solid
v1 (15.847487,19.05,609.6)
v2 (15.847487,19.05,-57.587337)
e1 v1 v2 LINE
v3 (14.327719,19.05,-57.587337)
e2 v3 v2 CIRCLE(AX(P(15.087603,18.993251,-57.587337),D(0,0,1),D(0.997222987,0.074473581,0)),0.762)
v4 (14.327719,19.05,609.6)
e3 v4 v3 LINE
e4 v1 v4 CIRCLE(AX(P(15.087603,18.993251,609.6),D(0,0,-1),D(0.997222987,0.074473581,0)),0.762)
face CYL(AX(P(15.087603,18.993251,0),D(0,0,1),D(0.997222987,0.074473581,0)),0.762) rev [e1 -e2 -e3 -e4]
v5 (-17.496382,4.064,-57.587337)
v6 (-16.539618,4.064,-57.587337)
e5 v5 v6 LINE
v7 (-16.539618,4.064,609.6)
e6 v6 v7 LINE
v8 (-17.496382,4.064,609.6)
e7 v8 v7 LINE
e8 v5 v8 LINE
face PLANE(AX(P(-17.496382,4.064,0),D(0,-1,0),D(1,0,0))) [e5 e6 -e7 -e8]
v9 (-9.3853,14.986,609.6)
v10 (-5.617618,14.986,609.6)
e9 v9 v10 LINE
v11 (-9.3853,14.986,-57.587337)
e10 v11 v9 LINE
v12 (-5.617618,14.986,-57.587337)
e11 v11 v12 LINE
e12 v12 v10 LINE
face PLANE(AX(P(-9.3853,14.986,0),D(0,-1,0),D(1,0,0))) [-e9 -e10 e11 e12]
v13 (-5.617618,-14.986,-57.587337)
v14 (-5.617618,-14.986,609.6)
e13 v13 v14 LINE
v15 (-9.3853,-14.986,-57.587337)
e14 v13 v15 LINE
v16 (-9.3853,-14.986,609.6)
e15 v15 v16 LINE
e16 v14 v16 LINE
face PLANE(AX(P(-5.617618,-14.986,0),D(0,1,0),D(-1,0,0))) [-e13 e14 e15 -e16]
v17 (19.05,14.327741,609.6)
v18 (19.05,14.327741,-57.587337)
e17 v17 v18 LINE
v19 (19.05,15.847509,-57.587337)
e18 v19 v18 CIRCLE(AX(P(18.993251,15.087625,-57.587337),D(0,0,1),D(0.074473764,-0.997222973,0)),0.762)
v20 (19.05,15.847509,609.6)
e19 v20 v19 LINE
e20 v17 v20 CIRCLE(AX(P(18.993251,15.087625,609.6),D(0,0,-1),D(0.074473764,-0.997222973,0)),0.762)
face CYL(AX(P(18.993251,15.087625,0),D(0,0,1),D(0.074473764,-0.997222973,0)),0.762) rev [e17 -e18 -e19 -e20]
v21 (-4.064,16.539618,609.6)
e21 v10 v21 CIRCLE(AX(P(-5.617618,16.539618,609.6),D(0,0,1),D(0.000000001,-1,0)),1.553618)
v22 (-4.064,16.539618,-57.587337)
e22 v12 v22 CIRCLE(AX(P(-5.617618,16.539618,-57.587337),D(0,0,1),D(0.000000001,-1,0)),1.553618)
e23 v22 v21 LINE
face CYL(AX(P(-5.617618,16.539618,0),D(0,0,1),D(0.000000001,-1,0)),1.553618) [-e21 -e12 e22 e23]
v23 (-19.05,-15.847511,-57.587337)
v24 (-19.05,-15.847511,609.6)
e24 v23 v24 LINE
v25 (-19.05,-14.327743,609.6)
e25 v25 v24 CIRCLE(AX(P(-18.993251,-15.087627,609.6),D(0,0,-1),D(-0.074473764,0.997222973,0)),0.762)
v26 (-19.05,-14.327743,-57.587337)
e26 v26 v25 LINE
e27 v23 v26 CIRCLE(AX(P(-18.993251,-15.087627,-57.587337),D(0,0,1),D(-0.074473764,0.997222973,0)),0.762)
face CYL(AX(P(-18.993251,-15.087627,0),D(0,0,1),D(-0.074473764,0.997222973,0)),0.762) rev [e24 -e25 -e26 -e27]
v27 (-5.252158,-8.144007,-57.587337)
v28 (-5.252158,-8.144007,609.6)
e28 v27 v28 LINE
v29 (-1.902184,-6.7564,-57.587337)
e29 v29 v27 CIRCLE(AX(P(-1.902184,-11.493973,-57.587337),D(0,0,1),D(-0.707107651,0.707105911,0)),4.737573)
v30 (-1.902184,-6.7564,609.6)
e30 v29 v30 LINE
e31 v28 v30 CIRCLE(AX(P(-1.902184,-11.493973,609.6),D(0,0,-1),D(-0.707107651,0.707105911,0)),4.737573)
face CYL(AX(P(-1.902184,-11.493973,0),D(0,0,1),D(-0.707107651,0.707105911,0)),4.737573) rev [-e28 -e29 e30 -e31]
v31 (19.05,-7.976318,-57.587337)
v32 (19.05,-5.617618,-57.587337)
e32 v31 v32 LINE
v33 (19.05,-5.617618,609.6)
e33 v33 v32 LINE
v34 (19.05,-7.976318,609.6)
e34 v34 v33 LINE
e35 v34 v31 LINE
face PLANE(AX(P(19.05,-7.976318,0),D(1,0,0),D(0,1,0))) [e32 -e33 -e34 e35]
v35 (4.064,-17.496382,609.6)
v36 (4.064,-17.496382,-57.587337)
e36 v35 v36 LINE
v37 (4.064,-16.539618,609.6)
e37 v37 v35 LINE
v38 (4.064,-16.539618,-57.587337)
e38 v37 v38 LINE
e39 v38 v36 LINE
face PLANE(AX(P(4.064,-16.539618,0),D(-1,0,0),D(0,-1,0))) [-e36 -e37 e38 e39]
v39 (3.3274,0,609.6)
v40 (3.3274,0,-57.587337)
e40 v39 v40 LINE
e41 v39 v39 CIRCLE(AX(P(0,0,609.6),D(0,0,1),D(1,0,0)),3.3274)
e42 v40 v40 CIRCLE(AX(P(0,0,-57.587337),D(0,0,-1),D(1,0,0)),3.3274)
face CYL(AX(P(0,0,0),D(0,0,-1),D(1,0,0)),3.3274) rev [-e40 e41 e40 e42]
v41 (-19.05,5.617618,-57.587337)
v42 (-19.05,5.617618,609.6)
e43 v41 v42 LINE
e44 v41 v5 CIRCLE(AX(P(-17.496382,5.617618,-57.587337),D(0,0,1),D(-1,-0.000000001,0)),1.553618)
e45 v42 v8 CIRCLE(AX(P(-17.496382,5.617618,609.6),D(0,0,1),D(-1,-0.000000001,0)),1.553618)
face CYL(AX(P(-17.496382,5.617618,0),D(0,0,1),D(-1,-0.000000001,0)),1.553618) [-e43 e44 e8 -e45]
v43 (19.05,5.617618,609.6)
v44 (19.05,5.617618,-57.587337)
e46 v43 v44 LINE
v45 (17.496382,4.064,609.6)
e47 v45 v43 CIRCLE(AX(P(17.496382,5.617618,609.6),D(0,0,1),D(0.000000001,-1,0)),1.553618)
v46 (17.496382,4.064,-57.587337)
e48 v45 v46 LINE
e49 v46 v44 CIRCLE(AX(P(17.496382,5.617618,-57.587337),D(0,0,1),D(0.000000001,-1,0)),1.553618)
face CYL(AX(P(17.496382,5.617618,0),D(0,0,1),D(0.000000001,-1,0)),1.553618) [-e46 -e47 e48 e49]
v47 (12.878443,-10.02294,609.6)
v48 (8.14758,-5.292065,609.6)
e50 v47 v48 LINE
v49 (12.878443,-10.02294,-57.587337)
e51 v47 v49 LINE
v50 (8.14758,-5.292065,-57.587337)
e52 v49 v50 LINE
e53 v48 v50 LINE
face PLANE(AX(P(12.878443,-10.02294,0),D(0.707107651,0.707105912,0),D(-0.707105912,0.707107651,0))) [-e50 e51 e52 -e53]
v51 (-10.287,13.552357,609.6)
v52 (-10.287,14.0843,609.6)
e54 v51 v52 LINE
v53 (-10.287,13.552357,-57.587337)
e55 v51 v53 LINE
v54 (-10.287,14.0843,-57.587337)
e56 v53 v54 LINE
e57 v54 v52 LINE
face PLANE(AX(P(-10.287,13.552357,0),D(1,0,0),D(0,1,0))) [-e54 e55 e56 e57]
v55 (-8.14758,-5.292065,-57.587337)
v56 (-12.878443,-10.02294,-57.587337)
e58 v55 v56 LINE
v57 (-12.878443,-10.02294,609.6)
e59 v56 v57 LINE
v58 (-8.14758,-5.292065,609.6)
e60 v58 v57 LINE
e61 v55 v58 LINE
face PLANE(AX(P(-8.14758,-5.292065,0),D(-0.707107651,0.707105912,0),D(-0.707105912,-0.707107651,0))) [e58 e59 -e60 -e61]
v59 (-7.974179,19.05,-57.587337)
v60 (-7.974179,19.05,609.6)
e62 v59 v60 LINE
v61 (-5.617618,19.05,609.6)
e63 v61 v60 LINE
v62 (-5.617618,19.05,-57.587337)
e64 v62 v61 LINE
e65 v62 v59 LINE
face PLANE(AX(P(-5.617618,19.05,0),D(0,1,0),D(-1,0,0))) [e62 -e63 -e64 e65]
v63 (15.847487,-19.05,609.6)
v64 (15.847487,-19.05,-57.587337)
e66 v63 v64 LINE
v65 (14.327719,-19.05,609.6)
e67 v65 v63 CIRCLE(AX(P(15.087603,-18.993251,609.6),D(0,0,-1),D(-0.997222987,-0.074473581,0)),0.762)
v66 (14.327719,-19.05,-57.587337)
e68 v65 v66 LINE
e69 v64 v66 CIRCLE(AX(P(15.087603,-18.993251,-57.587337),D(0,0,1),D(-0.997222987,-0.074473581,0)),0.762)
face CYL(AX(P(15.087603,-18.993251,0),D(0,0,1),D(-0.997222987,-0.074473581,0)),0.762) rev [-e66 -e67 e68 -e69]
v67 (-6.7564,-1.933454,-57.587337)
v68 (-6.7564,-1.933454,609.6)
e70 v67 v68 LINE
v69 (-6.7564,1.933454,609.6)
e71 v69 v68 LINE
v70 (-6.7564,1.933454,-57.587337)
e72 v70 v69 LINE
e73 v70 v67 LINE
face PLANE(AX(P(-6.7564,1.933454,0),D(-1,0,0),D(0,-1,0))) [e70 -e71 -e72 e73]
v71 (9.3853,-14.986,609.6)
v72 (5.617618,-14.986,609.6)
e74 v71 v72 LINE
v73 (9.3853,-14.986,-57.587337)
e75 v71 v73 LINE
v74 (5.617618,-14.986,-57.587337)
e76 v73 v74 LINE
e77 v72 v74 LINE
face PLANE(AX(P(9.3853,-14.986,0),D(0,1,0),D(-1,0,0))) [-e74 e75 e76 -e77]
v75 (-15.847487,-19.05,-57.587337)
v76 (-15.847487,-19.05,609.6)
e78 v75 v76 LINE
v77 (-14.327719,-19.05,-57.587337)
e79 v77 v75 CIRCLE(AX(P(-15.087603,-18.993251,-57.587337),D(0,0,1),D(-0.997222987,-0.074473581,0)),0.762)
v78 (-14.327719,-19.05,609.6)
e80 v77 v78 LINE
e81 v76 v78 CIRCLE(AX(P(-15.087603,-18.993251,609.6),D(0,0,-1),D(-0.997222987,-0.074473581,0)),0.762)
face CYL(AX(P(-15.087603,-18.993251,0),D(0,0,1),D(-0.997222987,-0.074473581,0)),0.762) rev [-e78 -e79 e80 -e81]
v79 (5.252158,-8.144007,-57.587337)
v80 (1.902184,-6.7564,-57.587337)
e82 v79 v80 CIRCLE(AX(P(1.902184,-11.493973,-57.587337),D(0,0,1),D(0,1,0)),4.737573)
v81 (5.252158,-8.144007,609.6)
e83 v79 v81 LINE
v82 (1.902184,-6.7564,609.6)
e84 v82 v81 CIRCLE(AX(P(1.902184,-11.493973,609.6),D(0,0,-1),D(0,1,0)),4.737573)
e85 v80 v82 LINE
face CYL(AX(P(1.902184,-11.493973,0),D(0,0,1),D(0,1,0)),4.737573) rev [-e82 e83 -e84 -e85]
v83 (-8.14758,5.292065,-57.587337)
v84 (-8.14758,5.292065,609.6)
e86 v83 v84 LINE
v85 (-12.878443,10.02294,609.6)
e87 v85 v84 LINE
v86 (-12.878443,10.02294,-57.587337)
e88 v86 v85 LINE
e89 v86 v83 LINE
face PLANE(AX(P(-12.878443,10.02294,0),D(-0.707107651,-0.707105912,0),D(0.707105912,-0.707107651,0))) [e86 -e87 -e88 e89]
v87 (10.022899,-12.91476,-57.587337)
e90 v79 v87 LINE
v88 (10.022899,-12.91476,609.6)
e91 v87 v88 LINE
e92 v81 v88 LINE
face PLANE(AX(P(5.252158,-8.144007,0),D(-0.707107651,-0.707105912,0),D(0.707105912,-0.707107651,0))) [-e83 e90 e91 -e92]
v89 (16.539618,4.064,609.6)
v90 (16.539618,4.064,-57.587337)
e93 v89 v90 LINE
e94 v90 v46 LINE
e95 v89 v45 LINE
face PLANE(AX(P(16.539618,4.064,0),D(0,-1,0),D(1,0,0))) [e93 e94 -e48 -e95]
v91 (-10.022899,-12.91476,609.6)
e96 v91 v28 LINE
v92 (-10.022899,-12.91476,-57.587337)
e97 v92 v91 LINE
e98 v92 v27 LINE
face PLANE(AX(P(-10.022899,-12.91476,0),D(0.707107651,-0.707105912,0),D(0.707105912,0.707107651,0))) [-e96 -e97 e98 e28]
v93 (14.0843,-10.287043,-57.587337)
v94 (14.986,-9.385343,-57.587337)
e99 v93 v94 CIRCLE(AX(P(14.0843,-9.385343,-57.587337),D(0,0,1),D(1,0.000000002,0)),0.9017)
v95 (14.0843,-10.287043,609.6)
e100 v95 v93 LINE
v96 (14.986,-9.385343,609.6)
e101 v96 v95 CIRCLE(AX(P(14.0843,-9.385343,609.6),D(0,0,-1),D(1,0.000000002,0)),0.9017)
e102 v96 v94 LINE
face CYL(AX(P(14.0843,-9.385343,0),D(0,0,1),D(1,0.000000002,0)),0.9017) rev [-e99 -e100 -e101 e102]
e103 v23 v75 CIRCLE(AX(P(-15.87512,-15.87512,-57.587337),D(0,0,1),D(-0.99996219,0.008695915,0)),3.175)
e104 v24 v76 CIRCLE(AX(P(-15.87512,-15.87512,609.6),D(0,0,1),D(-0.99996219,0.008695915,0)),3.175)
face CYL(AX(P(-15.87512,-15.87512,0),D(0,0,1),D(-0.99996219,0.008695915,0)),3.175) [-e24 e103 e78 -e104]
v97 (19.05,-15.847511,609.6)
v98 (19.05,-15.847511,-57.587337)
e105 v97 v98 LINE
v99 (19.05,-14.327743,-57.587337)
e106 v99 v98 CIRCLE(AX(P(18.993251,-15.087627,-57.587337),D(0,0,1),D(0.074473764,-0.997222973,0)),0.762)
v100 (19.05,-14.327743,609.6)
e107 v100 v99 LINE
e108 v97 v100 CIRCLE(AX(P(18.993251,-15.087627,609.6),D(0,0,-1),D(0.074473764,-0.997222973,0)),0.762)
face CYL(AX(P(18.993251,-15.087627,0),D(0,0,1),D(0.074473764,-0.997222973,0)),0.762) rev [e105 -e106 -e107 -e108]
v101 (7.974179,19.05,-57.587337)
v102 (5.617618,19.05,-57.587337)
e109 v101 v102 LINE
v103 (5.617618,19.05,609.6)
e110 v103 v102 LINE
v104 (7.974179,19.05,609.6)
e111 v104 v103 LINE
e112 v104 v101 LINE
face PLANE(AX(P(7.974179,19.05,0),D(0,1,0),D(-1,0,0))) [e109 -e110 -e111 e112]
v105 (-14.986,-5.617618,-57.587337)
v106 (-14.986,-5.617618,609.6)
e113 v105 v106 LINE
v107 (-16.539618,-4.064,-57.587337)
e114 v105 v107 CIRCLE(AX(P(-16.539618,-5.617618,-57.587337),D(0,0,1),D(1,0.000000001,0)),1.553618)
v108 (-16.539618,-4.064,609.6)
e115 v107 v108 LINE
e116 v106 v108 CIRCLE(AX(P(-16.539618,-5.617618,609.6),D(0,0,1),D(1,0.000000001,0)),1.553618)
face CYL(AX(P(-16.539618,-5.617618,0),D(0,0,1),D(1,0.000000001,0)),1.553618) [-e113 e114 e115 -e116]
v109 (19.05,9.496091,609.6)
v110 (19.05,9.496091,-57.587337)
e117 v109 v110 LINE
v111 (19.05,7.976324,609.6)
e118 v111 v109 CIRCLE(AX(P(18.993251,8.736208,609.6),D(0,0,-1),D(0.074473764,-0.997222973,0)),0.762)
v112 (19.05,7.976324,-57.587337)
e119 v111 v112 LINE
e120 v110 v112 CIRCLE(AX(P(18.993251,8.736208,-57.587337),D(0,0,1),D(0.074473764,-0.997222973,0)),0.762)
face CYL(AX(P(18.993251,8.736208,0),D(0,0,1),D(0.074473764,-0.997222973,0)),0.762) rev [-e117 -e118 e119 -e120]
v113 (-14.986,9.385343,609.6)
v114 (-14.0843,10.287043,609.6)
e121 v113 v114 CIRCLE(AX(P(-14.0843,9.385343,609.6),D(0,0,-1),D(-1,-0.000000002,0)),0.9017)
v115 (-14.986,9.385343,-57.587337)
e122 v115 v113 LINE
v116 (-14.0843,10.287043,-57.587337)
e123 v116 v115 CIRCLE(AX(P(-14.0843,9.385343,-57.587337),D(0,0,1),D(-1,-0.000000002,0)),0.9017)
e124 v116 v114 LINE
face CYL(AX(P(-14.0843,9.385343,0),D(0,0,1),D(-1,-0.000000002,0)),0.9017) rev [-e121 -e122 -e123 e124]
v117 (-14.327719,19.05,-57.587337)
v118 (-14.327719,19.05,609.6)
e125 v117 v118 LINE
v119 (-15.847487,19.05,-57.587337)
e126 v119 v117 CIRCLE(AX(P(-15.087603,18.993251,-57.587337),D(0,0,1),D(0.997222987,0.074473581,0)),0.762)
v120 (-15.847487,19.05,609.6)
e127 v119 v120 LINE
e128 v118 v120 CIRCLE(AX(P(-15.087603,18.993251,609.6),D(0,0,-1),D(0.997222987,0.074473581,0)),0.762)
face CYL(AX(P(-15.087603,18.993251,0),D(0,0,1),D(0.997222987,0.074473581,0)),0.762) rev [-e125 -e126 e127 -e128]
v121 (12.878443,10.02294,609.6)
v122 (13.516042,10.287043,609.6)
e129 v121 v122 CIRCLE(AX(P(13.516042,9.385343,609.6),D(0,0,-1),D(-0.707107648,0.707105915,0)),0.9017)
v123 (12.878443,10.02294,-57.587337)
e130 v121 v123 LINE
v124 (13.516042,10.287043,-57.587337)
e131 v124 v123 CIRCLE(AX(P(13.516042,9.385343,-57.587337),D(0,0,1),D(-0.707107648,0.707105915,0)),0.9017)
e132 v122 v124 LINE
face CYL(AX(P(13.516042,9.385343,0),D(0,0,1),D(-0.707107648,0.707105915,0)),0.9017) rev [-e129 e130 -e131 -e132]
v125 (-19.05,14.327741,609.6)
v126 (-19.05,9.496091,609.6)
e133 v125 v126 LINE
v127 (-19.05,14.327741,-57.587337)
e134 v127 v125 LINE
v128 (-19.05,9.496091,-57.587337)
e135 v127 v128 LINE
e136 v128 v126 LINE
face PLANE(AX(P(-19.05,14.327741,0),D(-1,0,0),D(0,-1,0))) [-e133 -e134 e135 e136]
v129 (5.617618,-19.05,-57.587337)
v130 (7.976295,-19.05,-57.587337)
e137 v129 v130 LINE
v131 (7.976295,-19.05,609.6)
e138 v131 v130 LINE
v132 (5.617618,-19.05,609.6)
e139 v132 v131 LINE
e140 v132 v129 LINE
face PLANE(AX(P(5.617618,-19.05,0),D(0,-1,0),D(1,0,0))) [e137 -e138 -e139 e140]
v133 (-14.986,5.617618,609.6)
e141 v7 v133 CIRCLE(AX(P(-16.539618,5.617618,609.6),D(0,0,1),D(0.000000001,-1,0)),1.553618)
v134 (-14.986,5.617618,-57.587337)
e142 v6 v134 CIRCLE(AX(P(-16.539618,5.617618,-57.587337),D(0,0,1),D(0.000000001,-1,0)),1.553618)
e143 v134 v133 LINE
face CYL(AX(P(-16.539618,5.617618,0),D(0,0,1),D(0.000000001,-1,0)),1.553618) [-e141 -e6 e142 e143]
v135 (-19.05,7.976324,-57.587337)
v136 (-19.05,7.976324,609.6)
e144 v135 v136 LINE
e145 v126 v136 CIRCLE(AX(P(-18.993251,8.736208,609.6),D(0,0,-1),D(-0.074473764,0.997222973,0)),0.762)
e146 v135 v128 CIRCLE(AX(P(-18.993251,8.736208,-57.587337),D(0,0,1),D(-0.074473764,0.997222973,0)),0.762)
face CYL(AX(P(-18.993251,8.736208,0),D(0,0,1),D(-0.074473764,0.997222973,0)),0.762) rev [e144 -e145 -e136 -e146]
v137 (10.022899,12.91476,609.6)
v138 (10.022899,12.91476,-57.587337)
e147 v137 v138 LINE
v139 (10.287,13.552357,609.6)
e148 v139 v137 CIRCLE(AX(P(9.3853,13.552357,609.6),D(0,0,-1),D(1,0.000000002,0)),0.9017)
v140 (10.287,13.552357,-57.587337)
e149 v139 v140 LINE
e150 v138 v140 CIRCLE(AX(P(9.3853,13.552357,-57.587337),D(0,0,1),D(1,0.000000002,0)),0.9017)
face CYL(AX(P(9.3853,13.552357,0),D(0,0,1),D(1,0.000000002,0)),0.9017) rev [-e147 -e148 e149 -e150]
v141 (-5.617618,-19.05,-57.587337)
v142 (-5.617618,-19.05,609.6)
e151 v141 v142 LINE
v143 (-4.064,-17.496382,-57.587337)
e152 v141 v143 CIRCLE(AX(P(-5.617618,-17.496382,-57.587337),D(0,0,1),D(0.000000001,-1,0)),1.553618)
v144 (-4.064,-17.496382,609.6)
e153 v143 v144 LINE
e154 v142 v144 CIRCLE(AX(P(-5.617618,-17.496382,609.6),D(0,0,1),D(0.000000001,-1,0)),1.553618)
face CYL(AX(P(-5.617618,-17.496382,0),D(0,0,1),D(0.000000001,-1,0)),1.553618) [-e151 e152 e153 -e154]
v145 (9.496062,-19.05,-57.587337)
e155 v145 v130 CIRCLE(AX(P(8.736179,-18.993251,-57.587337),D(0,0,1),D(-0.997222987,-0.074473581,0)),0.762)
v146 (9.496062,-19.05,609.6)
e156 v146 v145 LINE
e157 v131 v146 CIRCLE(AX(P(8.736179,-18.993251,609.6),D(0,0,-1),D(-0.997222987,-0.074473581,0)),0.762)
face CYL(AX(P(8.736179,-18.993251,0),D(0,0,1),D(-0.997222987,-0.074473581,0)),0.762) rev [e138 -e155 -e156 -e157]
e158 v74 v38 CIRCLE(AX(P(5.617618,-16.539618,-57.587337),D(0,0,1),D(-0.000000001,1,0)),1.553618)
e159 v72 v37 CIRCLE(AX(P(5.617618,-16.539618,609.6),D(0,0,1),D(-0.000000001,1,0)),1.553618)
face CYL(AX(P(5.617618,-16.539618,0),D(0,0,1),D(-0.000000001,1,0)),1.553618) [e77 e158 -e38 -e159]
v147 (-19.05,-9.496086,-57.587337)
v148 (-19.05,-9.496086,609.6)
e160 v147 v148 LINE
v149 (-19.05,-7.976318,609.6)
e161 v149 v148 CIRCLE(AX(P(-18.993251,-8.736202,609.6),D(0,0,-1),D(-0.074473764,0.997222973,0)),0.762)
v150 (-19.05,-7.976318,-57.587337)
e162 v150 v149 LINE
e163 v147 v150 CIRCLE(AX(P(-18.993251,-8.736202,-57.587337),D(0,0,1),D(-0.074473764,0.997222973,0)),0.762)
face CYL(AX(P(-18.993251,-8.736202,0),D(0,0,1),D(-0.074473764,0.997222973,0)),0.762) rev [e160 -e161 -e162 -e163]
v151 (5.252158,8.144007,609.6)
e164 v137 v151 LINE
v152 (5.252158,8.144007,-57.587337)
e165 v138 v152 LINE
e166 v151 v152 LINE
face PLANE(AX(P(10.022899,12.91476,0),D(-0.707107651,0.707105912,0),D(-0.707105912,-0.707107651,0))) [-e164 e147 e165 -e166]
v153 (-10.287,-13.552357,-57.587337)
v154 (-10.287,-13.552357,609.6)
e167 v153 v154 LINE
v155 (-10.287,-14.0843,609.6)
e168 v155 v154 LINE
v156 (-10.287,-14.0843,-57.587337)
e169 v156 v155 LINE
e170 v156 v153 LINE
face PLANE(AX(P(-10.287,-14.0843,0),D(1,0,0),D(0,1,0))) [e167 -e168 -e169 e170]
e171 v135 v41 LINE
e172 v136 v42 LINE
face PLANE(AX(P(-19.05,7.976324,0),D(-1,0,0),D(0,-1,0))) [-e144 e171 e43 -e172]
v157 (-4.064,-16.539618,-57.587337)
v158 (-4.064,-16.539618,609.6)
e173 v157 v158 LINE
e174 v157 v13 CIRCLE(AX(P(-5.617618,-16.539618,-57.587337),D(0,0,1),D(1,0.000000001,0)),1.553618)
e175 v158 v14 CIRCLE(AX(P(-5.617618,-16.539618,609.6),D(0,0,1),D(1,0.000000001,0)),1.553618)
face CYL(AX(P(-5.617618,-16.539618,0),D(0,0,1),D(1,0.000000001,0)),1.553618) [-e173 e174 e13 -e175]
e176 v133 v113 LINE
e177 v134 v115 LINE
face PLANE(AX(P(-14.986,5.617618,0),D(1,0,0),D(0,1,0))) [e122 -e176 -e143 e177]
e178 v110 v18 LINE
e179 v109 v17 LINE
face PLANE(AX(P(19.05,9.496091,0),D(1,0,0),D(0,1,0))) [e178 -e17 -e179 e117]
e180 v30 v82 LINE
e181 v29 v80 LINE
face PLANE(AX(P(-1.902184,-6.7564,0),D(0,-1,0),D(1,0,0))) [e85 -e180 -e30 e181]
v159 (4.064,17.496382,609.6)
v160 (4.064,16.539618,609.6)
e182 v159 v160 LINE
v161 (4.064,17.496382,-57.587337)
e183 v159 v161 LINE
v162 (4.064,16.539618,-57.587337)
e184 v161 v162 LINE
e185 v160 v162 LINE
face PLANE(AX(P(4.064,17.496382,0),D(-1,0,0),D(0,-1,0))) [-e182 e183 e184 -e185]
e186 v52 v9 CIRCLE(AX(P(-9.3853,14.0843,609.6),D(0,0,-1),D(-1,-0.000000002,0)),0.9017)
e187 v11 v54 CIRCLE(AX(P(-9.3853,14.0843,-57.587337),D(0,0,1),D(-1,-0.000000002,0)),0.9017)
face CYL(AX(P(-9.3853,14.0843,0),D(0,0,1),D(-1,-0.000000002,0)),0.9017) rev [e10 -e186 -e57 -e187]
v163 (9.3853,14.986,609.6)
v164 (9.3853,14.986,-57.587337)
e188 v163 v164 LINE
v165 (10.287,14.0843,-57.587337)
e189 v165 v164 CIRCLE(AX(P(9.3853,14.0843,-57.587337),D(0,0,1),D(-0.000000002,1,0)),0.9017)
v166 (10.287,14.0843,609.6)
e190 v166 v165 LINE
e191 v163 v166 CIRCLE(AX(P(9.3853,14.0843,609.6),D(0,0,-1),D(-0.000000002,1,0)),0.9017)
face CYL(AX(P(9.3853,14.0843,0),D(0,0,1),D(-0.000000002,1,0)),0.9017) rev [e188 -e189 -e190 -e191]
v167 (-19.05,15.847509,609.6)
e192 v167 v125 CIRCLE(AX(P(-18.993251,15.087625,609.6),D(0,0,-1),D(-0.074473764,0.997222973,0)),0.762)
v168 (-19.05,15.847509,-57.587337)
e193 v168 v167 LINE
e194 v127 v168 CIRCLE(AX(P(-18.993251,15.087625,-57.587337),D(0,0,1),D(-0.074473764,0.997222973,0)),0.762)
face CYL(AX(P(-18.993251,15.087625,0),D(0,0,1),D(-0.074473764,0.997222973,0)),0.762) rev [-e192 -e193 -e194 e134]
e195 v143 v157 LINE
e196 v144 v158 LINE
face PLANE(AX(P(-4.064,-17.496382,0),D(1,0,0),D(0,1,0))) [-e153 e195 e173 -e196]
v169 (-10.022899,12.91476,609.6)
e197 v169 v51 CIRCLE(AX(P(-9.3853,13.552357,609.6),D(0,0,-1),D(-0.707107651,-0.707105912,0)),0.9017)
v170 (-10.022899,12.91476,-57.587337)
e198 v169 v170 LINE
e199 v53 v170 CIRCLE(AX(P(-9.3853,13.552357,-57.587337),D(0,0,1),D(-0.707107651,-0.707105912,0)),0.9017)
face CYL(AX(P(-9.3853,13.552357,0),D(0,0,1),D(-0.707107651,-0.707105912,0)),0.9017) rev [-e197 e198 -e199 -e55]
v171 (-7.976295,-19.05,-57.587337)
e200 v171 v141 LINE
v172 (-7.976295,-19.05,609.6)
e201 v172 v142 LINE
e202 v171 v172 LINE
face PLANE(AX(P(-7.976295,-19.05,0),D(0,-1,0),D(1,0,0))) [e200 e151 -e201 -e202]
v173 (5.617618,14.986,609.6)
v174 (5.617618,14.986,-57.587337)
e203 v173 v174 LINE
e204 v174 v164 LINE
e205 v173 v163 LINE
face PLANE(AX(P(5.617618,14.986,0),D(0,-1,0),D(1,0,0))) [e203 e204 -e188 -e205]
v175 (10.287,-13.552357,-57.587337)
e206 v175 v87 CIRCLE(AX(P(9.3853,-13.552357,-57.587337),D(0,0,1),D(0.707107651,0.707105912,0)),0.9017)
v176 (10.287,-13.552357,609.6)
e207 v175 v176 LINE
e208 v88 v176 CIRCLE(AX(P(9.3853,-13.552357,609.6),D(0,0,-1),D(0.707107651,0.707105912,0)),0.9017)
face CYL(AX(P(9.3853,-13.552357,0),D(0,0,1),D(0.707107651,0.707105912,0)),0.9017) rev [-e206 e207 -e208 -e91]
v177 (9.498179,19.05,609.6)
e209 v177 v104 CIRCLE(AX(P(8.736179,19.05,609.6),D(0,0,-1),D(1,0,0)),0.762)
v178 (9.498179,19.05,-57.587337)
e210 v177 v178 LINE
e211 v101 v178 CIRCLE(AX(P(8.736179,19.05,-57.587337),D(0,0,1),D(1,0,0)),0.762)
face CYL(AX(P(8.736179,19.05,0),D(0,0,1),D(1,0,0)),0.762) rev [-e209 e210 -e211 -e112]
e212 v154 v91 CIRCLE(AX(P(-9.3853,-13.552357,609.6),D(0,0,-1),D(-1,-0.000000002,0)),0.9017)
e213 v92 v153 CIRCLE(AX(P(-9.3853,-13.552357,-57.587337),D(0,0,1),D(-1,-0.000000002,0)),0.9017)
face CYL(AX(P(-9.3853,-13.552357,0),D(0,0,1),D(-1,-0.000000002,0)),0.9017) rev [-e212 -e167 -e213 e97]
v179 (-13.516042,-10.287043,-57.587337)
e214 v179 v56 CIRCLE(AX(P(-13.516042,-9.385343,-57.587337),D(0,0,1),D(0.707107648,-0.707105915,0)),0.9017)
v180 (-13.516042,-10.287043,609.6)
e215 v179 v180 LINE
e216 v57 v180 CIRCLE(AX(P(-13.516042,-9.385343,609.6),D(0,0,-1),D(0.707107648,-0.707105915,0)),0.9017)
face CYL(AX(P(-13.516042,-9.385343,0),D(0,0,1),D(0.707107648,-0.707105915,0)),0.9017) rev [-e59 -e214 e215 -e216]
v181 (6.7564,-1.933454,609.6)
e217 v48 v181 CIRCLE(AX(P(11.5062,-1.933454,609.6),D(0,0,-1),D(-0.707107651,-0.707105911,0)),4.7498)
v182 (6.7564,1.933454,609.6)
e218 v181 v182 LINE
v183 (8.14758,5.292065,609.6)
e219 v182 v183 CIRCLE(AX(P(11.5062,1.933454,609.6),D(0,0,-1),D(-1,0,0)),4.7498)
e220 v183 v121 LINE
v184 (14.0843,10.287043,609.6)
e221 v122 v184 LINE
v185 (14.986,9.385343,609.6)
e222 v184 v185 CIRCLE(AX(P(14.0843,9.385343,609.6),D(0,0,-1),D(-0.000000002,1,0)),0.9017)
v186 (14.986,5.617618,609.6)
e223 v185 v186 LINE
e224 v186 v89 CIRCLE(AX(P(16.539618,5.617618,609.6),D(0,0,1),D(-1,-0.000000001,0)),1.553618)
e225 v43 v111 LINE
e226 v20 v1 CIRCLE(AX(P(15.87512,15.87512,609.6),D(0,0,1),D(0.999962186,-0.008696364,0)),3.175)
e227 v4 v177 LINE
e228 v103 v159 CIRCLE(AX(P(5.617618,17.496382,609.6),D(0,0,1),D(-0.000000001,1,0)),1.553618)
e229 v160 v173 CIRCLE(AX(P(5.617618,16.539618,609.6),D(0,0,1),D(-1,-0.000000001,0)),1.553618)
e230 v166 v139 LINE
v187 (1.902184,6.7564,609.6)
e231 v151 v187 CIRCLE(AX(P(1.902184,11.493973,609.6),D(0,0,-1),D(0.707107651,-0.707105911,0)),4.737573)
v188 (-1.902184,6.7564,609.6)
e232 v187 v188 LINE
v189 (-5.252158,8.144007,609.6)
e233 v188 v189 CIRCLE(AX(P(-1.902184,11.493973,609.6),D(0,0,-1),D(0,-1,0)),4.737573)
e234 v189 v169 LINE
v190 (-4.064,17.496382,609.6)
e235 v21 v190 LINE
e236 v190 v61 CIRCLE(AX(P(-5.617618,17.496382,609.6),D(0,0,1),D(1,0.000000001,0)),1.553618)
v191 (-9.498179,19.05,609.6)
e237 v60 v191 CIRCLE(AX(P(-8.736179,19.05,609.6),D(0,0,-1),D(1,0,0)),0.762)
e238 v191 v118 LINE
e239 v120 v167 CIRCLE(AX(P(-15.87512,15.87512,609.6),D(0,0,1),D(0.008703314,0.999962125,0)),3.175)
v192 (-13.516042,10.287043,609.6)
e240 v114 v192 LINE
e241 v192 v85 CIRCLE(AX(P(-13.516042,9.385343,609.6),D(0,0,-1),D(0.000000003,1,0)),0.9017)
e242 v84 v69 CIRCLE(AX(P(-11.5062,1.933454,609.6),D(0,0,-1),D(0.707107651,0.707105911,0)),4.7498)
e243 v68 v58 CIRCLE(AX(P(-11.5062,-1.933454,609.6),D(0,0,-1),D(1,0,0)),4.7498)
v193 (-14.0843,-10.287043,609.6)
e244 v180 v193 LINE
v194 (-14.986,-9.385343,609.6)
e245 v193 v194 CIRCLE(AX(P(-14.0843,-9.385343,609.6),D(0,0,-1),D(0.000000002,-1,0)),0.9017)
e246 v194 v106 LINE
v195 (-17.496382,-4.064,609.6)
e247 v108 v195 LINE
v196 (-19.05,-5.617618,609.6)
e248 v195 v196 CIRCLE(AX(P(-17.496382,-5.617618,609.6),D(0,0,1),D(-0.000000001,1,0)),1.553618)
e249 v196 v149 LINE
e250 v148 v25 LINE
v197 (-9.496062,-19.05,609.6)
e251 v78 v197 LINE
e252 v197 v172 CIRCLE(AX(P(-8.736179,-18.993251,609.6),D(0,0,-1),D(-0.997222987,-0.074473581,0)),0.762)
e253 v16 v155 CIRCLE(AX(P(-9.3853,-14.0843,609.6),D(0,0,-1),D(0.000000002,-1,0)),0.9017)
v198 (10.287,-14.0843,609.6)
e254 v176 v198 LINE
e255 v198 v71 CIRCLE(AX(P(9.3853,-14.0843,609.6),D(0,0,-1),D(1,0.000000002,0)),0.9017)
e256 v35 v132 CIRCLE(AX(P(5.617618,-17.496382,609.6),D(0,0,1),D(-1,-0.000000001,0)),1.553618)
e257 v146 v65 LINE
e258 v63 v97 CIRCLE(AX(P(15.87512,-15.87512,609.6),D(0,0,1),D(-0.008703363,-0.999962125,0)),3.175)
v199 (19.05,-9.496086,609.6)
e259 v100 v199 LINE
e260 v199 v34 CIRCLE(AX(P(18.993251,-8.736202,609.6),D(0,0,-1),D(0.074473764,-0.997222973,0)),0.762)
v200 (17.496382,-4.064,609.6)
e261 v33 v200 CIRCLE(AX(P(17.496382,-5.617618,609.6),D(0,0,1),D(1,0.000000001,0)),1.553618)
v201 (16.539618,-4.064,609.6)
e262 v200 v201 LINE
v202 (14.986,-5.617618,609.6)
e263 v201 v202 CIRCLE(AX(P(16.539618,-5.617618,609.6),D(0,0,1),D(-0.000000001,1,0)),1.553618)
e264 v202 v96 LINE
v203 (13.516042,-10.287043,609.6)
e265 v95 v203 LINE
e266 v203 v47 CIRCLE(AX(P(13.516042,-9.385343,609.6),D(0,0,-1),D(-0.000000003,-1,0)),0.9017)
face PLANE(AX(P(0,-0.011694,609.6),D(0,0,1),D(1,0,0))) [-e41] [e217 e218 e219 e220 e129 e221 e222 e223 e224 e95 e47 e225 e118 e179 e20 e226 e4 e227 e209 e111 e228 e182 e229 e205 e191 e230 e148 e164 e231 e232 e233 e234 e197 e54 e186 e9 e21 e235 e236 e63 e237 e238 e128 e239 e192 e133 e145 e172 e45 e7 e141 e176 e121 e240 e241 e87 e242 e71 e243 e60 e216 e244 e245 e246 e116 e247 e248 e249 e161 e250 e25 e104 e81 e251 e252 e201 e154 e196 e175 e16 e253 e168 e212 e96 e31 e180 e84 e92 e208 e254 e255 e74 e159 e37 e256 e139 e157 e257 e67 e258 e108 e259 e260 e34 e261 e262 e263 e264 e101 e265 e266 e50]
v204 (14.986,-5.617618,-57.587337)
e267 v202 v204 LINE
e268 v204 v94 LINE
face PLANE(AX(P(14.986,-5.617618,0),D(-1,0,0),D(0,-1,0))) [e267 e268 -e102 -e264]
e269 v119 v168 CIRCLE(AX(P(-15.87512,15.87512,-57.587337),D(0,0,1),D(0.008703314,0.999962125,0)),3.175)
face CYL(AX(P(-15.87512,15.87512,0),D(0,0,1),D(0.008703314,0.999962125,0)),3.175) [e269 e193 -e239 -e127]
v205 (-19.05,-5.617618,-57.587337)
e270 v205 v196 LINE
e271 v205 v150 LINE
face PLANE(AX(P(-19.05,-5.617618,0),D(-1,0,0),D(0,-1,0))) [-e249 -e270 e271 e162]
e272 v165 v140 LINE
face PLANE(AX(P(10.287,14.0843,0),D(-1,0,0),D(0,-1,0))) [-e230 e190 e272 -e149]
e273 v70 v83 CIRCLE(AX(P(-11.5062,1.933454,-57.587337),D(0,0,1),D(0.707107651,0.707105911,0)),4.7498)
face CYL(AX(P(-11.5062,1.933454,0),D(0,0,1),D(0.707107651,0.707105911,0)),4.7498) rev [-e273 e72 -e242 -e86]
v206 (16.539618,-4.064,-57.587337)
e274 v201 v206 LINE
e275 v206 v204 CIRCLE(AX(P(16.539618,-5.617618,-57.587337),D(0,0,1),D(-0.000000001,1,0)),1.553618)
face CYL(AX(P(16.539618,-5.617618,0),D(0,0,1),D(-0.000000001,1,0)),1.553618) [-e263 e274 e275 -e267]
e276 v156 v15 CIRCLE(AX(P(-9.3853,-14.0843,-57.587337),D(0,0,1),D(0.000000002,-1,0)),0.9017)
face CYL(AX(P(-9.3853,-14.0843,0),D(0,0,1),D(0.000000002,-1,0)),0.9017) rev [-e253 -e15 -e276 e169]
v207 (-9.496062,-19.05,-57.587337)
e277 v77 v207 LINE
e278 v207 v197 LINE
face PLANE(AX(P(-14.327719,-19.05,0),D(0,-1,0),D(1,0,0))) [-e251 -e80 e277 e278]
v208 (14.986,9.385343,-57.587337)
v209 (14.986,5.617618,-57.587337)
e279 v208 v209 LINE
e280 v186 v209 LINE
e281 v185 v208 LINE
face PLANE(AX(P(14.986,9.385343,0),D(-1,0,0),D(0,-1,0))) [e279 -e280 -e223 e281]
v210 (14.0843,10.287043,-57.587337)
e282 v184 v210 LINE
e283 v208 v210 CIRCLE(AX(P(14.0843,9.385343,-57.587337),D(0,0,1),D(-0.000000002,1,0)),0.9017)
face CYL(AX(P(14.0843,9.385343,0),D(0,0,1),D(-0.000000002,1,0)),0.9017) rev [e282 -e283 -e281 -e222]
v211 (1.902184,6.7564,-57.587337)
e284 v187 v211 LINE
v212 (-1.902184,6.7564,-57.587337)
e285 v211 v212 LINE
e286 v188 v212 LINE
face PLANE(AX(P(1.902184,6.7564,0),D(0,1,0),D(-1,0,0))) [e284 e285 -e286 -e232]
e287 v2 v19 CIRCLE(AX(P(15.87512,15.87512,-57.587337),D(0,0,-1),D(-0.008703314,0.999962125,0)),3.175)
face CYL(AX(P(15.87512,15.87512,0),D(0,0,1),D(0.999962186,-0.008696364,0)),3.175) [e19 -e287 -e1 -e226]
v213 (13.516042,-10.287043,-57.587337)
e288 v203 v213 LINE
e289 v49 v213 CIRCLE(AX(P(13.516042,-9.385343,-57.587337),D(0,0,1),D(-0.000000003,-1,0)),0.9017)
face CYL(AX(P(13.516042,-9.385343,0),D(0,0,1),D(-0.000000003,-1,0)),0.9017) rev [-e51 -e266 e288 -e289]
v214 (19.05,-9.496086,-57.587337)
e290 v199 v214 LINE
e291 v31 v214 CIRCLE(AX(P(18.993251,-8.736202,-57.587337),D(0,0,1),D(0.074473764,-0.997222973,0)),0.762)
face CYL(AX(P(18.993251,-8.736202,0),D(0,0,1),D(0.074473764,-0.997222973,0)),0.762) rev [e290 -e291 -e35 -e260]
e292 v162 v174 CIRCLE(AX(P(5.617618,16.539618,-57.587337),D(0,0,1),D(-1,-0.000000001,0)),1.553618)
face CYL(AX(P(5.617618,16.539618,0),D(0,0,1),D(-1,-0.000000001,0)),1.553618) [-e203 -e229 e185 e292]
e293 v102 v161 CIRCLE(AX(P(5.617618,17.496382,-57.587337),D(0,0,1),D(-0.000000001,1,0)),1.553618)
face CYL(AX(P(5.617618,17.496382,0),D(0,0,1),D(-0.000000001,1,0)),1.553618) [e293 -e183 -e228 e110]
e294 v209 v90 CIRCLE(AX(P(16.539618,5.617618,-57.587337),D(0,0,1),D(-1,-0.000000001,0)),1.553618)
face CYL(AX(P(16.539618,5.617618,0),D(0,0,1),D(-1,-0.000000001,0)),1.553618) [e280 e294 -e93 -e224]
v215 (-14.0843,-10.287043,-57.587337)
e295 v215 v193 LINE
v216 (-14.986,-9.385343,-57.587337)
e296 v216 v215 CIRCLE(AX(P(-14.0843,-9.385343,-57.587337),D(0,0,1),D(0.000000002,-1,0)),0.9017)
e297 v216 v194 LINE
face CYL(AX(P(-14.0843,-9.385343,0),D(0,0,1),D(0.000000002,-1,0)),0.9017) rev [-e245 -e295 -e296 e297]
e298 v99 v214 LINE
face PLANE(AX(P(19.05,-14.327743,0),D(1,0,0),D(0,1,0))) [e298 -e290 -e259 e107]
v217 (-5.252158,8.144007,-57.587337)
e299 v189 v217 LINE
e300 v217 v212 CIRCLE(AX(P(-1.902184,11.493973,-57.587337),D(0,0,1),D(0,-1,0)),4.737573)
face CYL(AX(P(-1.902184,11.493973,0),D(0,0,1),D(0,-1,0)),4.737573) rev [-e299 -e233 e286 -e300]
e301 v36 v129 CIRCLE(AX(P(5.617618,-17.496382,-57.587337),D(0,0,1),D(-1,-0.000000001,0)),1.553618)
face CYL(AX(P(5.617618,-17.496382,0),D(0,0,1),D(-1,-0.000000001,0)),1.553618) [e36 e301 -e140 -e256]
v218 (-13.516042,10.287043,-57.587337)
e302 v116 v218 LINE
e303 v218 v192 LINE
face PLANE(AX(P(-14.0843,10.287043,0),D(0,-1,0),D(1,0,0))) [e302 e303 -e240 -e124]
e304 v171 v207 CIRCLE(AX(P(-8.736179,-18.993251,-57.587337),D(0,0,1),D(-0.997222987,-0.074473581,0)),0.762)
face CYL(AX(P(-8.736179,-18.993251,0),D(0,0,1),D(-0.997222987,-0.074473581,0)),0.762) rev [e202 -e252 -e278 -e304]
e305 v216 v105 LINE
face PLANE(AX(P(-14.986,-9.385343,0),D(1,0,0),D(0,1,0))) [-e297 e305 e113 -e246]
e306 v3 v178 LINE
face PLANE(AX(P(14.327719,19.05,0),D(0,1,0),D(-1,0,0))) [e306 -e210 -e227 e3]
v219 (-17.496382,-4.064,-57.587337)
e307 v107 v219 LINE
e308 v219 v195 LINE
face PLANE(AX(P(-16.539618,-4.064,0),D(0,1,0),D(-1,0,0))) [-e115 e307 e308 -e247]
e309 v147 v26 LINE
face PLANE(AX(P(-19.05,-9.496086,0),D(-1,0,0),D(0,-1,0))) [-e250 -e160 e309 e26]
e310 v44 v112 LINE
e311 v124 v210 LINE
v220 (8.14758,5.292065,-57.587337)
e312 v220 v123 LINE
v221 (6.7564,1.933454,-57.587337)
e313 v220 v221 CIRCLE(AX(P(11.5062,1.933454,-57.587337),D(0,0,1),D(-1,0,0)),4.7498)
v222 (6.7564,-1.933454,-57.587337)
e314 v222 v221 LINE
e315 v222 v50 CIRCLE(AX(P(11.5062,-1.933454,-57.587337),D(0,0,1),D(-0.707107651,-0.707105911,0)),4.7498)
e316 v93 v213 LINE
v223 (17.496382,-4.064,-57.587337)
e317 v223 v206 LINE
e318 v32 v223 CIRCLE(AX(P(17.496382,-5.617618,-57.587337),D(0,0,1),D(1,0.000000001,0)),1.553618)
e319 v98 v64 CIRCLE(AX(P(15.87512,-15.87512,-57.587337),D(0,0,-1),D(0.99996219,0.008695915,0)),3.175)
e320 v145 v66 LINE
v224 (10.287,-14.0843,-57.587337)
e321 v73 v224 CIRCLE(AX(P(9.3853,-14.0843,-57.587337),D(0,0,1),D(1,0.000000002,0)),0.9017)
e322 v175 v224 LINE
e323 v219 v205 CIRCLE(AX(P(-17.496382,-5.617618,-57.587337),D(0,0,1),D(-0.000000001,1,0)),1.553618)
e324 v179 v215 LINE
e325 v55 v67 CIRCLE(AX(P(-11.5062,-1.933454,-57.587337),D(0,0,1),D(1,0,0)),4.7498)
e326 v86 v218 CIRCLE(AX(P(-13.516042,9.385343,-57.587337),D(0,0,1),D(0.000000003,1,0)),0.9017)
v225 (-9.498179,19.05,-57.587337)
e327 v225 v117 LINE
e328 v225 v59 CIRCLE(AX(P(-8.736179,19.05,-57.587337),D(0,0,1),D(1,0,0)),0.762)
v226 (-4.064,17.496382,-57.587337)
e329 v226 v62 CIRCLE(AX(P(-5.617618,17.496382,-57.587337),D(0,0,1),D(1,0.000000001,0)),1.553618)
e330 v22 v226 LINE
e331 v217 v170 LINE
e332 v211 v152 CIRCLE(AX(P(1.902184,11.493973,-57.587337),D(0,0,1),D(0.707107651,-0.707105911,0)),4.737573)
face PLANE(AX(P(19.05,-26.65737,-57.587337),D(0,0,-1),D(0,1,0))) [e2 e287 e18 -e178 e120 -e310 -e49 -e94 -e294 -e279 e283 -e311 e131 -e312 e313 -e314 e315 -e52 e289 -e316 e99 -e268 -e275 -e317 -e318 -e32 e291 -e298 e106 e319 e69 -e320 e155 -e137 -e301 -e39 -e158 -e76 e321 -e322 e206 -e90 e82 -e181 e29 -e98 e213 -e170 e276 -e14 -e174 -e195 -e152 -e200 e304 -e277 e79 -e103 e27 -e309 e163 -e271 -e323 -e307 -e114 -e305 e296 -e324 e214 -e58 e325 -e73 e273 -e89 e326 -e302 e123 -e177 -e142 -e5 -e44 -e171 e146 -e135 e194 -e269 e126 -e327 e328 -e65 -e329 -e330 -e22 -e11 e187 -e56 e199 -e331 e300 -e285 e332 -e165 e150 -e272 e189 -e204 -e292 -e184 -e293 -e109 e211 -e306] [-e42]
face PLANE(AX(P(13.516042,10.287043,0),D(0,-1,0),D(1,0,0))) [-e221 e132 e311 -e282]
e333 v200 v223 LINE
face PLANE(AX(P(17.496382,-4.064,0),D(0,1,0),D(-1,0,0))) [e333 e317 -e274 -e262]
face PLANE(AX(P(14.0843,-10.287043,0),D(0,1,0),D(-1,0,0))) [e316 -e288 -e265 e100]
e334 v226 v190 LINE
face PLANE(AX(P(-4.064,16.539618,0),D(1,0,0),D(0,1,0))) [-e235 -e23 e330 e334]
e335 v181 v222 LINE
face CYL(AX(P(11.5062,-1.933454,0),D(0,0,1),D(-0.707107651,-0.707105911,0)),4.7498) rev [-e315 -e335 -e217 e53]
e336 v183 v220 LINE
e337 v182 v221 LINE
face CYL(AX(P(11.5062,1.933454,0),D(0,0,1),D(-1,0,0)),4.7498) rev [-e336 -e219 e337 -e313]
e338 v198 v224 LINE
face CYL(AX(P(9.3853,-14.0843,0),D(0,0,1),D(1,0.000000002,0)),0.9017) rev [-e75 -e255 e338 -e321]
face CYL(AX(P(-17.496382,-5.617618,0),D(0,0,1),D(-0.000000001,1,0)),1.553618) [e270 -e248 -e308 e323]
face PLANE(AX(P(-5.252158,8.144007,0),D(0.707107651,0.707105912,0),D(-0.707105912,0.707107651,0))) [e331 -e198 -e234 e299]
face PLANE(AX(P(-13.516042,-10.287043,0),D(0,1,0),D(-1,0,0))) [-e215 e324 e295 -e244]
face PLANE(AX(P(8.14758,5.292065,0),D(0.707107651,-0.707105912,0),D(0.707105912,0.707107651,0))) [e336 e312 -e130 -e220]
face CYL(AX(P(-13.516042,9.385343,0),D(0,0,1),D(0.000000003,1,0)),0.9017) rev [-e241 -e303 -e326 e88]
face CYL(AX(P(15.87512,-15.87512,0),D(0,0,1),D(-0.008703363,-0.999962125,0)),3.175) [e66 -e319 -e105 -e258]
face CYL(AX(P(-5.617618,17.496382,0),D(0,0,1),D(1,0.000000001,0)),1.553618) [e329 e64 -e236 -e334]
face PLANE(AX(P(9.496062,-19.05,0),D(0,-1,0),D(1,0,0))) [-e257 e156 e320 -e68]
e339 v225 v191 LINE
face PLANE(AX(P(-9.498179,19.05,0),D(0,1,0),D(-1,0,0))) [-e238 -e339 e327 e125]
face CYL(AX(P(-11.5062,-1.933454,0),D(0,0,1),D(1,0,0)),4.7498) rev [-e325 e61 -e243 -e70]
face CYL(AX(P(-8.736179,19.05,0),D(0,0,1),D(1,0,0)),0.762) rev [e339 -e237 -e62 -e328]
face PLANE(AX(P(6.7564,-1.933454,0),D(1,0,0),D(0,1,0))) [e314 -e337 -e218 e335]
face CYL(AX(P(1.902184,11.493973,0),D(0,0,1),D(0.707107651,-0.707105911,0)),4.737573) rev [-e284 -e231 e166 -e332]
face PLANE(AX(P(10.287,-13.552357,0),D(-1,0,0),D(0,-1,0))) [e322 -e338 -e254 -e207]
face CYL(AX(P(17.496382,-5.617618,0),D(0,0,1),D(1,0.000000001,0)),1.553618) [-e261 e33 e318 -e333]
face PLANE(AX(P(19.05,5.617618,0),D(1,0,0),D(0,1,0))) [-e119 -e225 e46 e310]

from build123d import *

# Parameters (mm, degrees)
SKETCH1_R               = 3.3274
BOSS_EXTRUDE1_DEPTH     = 609.6
SKETCH2_W               = 555.737416111
SKETCH2_H               = 51.354372661
CUT_EXTRUDE1_DEPTH      = 5.08
CUT_EXTRUDE1_DEPTH_BACK = 41.148


with BuildPart() as part:
    # Sketch1 → Boss-Extrude1 (new body, symmetric)
    with BuildSketch(Plane.XY):
        with BuildLine():
            Line((-10.287, 13.552357131), (-10.287, 14.0843))
            ThreePointArc((-10.287, 14.0843), (-10.022898185, 14.721898185), (-9.3853, 14.986))
            Line((-9.3853, 14.986), (-5.617617549, 14.986))
            ThreePointArc((-5.617617549, 14.986), (-4.519044045, 15.441044045), (-4.064, 16.539617549))
            Line((-4.064, 16.539617549), (-4.064, 17.496382451))
            ThreePointArc((-4.064, 17.496382451), (-4.519044045, 18.594955955), (-5.617617549, 19.05))
            Line((-5.617617549, 19.05), (-7.974178704, 19.05))
            ThreePointArc((-7.974178704, 19.05), (-8.736178704, 18.288), (-9.498178704, 19.05))
            Line((-9.498178704, 19.05), (-14.327719207, 19.05))
            ThreePointArc((-14.327719207, 19.05), (-15.087603123, 18.231251131), (-15.847487039, 19.05))
            ThreePointArc((-15.847487039, 19.05), (-18.120176289, 18.120192083), (-19.05, 15.847509295))
            ThreePointArc((-19.05, 15.847509295), (-18.231250992, 15.08762539), (-19.05, 14.327741484))
            Line((-19.05, 14.327741484), (-19.05, 9.496091471))
            ThreePointArc((-19.05, 9.496091471), (-18.231250992, 8.736207565), (-19.05, 7.97632366))
            Line((-19.05, 7.97632366), (-19.05, 5.617617549))
            ThreePointArc((-19.05, 5.617617549), (-18.594955955, 4.519044045), (-17.496382451, 4.064))
            Line((-17.496382451, 4.064), (-16.539617549, 4.064))
            ThreePointArc((-16.539617549, 4.064), (-15.441044045, 4.519044045), (-14.986, 5.617617549))
            Line((-14.986, 5.617617549), (-14.986, 9.385342516))
            ThreePointArc((-14.986, 9.385342516), (-14.721898185, 10.022940701), (-14.0843, 10.287042516))
            Line((-14.0843, 10.287042516), (-13.516042086, 10.287042516))
            ThreePointArc((-13.516042086, 10.287042516), (-13.170975923, 10.218404478), (-12.878443117, 10.022939917))
            Line((-12.878443117, 10.022939917), (-8.14758008, 5.292065243))
            ThreePointArc((-8.14758008, 5.292065243), (-7.117955879, 3.751120653), (-6.7564, 1.933453584))
            Line((-6.7564, 1.933453584), (-6.7564, -1.933453584))
            ThreePointArc((-6.7564, -1.933453584), (-7.117955879, -3.751120653), (-8.14758008, -5.292065243))
            Line((-8.14758008, -5.292065243), (-12.878443117, -10.022939917))
            ThreePointArc((-12.878443117, -10.022939917), (-13.170975923, -10.218404478), (-13.516042086, -10.287042516))
            Line((-13.516042086, -10.287042516), (-14.0843, -10.287042516))
            ThreePointArc((-14.0843, -10.287042516), (-14.721898185, -10.022940701), (-14.986, -9.385342516))
            Line((-14.986, -9.385342516), (-14.986, -5.617617549))
            ThreePointArc((-14.986, -5.617617549), (-15.441044045, -4.519044045), (-16.539617549, -4.064))
            Line((-16.539617549, -4.064), (-17.496382451, -4.064))
            ThreePointArc((-17.496382451, -4.064), (-18.594955955, -4.519044045), (-19.05, -5.617617549))
            Line((-19.05, -5.617617549), (-19.05, -7.976318491))
            ThreePointArc((-19.05, -7.976318491), (-18.231250992, -8.736202396), (-19.05, -9.496086302))
            Line((-19.05, -9.496086302), (-19.05, -14.32774291))
            ThreePointArc((-19.05, -14.32774291), (-18.231250992, -15.087626816), (-19.05, -15.847510721))
            ThreePointArc((-19.05, -15.847510721), (-18.120175716, -18.120192644), (-15.847486868, -19.05))
            ThreePointArc((-15.847486868, -19.05), (-15.087602952, -18.231251131), (-14.327719036, -19.05))
            Line((-14.327719036, -19.05), (-9.496062448, -19.05))
            ThreePointArc((-9.496062448, -19.05), (-8.736178532, -18.231251131), (-7.976294616, -19.05))
            Line((-7.976294616, -19.05), (-5.617617549, -19.05))
            ThreePointArc((-5.617617549, -19.05), (-4.519044045, -18.594955955), (-4.064, -17.496382451))
            Line((-4.064, -17.496382451), (-4.064, -16.539617549))
            ThreePointArc((-4.064, -16.539617549), (-4.519044045, -15.441044045), (-5.617617549, -14.986))
            Line((-5.617617549, -14.986), (-9.3853, -14.986))
            ThreePointArc((-9.3853, -14.986), (-10.022898185, -14.721898185), (-10.287, -14.0843))
            Line((-10.287, -14.0843), (-10.287, -13.552357131))
            ThreePointArc((-10.287, -13.552357131), (-10.218362387, -13.207291992), (-10.022898969, -12.91475973))
            Line((-10.022898969, -12.91475973), (-5.252158105, -8.144007132))
            ThreePointArc((-5.252158105, -8.144007132), (-3.715177372, -7.117027388), (-1.902183975, -6.7564))
            Line((-1.902183975, -6.7564), (1.902183975, -6.7564))
            ThreePointArc((1.902183975, -6.7564), (3.715177372, -7.117027388), (5.252158105, -8.144007132))
            Line((5.252158105, -8.144007132), (10.022898969, -12.91475973))
            ThreePointArc((10.022898969, -12.91475973), (10.218362387, -13.207291992), (10.287, -13.552357131))
            Line((10.287, -13.552357131), (10.287, -14.0843))
            ThreePointArc((10.287, -14.0843), (10.022898185, -14.721898185), (9.3853, -14.986))
            Line((9.3853, -14.986), (5.617617549, -14.986))
            ThreePointArc((5.617617549, -14.986), (4.519044045, -15.441044045), (4.064, -16.539617549))
            Line((4.064, -16.539617549), (4.064, -17.496382451))
            ThreePointArc((4.064, -17.496382451), (4.519044045, -18.594955955), (5.617617549, -19.05))
            Line((5.617617549, -19.05), (7.976294616, -19.05))
            ThreePointArc((7.976294616, -19.05), (8.736178532, -18.231251131), (9.496062448, -19.05))
            Line((9.496062448, -19.05), (14.327719036, -19.05))
            ThreePointArc((14.327719036, -19.05), (15.087602952, -18.231251131), (15.847486868, -19.05))
            ThreePointArc((15.847486868, -19.05), (18.120175716, -18.120192644), (19.05, -15.847510721))
            ThreePointArc((19.05, -15.847510721), (18.231250992, -15.087626816), (19.05, -14.32774291))
            Line((19.05, -14.32774291), (19.05, -9.496086302))
            ThreePointArc((19.05, -9.496086302), (18.231250992, -8.736202396), (19.05, -7.976318491))
            Line((19.05, -7.976318491), (19.05, -5.617617549))
            ThreePointArc((19.05, -5.617617549), (18.594955955, -4.519044045), (17.496382451, -4.064))
            Line((17.496382451, -4.064), (16.539617549, -4.064))
            ThreePointArc((16.539617549, -4.064), (15.441044045, -4.519044045), (14.986, -5.617617549))
            Line((14.986, -5.617617549), (14.986, -9.385342516))
            ThreePointArc((14.986, -9.385342516), (14.721898185, -10.022940701), (14.0843, -10.287042516))
            Line((14.0843, -10.287042516), (13.516042086, -10.287042516))
            ThreePointArc((13.516042086, -10.287042516), (13.170975923, -10.218404478), (12.878443117, -10.022939917))
            Line((12.878443117, -10.022939917), (8.14758008, -5.292065243))
            ThreePointArc((8.14758008, -5.292065243), (7.117955879, -3.751120653), (6.7564, -1.933453584))
            Line((6.7564, -1.933453584), (6.7564, 1.933453584))
            ThreePointArc((6.7564, 1.933453584), (7.117955879, 3.751120653), (8.14758008, 5.292065243))
            Line((8.14758008, 5.292065243), (12.878443117, 10.022939917))
            ThreePointArc((12.878443117, 10.022939917), (13.170975923, 10.218404478), (13.516042086, 10.287042516))
            Line((13.516042086, 10.287042516), (14.0843, 10.287042516))
            ThreePointArc((14.0843, 10.287042516), (14.721898185, 10.022940701), (14.986, 9.385342516))
            Line((14.986, 9.385342516), (14.986, 5.617617549))
            ThreePointArc((14.986, 5.617617549), (15.441044045, 4.519044045), (16.539617549, 4.064))
            Line((16.539617549, 4.064), (17.496382451, 4.064))
            ThreePointArc((17.496382451, 4.064), (18.594955955, 4.519044045), (19.05, 5.617617549))
            Line((19.05, 5.617617549), (19.05, 7.97632366))
            ThreePointArc((19.05, 7.97632366), (18.231250992, 8.736207565), (19.05, 9.496091471))
            Line((19.05, 9.496091471), (19.05, 14.327741484))
            ThreePointArc((19.05, 14.327741484), (18.231250992, 15.08762539), (19.05, 15.847509295))
            ThreePointArc((19.05, 15.847509295), (18.120176289, 18.120192083), (15.847487039, 19.05))
            ThreePointArc((15.847487039, 19.05), (15.087603123, 18.231251131), (14.327719207, 19.05))
            Line((14.327719207, 19.05), (9.498178704, 19.05))
            ThreePointArc((9.498178704, 19.05), (8.736178704, 18.288), (7.974178704, 19.05))
            Line((7.974178704, 19.05), (5.617617549, 19.05))
            ThreePointArc((5.617617549, 19.05), (4.519044045, 18.594955955), (4.064, 17.496382451))
            Line((4.064, 17.496382451), (4.064, 16.539617549))
            ThreePointArc((4.064, 16.539617549), (4.519044045, 15.441044045), (5.617617549, 14.986))
            Line((5.617617549, 14.986), (9.3853, 14.986))
            ThreePointArc((9.3853, 14.986), (10.022898185, 14.721898185), (10.287, 14.0843))
            Line((10.287, 14.0843), (10.287, 13.552357131))
            ThreePointArc((10.287, 13.552357131), (10.218362387, 13.207291992), (10.022898969, 12.91475973))
            Line((10.022898969, 12.91475973), (5.252158105, 8.144007132))
            ThreePointArc((5.252158105, 8.144007132), (3.715177372, 7.117027388), (1.902183975, 6.7564))
            Line((1.902183975, 6.7564), (-1.902183975, 6.7564))
            ThreePointArc((-1.902183975, 6.7564), (-3.715177372, 7.117027388), (-5.252158105, 8.144007132))
            Line((-5.252158105, 8.144007132), (-10.022898969, 12.91475973))
            ThreePointArc((-10.022898969, 12.91475973), (-10.218362387, 13.207291992), (-10.287, 13.552357131))
        make_face()
        Circle(SKETCH1_R, mode=Mode.SUBTRACT)
    extrude(amount=BOSS_EXTRUDE1_DEPTH, both=True)

    # Sketch2 → Cut-Extrude1 (cut, two sides)
    with BuildSketch(Plane(origin=(19.05, 0, 0), x_dir=(0, 0, -1), z_dir=(1, 0, 0))) as cut_extrude1_sk:
        with Locations((335.456045341, -0.9801838)):
            Rectangle(SKETCH2_W, SKETCH2_H)
    extrude(amount=CUT_EXTRUDE1_DEPTH, mode=Mode.SUBTRACT)
    extrude(cut_extrude1_sk.sketch, amount=-CUT_EXTRUDE1_DEPTH_BACK, mode=Mode.SUBTRACT)


solid = part.part
